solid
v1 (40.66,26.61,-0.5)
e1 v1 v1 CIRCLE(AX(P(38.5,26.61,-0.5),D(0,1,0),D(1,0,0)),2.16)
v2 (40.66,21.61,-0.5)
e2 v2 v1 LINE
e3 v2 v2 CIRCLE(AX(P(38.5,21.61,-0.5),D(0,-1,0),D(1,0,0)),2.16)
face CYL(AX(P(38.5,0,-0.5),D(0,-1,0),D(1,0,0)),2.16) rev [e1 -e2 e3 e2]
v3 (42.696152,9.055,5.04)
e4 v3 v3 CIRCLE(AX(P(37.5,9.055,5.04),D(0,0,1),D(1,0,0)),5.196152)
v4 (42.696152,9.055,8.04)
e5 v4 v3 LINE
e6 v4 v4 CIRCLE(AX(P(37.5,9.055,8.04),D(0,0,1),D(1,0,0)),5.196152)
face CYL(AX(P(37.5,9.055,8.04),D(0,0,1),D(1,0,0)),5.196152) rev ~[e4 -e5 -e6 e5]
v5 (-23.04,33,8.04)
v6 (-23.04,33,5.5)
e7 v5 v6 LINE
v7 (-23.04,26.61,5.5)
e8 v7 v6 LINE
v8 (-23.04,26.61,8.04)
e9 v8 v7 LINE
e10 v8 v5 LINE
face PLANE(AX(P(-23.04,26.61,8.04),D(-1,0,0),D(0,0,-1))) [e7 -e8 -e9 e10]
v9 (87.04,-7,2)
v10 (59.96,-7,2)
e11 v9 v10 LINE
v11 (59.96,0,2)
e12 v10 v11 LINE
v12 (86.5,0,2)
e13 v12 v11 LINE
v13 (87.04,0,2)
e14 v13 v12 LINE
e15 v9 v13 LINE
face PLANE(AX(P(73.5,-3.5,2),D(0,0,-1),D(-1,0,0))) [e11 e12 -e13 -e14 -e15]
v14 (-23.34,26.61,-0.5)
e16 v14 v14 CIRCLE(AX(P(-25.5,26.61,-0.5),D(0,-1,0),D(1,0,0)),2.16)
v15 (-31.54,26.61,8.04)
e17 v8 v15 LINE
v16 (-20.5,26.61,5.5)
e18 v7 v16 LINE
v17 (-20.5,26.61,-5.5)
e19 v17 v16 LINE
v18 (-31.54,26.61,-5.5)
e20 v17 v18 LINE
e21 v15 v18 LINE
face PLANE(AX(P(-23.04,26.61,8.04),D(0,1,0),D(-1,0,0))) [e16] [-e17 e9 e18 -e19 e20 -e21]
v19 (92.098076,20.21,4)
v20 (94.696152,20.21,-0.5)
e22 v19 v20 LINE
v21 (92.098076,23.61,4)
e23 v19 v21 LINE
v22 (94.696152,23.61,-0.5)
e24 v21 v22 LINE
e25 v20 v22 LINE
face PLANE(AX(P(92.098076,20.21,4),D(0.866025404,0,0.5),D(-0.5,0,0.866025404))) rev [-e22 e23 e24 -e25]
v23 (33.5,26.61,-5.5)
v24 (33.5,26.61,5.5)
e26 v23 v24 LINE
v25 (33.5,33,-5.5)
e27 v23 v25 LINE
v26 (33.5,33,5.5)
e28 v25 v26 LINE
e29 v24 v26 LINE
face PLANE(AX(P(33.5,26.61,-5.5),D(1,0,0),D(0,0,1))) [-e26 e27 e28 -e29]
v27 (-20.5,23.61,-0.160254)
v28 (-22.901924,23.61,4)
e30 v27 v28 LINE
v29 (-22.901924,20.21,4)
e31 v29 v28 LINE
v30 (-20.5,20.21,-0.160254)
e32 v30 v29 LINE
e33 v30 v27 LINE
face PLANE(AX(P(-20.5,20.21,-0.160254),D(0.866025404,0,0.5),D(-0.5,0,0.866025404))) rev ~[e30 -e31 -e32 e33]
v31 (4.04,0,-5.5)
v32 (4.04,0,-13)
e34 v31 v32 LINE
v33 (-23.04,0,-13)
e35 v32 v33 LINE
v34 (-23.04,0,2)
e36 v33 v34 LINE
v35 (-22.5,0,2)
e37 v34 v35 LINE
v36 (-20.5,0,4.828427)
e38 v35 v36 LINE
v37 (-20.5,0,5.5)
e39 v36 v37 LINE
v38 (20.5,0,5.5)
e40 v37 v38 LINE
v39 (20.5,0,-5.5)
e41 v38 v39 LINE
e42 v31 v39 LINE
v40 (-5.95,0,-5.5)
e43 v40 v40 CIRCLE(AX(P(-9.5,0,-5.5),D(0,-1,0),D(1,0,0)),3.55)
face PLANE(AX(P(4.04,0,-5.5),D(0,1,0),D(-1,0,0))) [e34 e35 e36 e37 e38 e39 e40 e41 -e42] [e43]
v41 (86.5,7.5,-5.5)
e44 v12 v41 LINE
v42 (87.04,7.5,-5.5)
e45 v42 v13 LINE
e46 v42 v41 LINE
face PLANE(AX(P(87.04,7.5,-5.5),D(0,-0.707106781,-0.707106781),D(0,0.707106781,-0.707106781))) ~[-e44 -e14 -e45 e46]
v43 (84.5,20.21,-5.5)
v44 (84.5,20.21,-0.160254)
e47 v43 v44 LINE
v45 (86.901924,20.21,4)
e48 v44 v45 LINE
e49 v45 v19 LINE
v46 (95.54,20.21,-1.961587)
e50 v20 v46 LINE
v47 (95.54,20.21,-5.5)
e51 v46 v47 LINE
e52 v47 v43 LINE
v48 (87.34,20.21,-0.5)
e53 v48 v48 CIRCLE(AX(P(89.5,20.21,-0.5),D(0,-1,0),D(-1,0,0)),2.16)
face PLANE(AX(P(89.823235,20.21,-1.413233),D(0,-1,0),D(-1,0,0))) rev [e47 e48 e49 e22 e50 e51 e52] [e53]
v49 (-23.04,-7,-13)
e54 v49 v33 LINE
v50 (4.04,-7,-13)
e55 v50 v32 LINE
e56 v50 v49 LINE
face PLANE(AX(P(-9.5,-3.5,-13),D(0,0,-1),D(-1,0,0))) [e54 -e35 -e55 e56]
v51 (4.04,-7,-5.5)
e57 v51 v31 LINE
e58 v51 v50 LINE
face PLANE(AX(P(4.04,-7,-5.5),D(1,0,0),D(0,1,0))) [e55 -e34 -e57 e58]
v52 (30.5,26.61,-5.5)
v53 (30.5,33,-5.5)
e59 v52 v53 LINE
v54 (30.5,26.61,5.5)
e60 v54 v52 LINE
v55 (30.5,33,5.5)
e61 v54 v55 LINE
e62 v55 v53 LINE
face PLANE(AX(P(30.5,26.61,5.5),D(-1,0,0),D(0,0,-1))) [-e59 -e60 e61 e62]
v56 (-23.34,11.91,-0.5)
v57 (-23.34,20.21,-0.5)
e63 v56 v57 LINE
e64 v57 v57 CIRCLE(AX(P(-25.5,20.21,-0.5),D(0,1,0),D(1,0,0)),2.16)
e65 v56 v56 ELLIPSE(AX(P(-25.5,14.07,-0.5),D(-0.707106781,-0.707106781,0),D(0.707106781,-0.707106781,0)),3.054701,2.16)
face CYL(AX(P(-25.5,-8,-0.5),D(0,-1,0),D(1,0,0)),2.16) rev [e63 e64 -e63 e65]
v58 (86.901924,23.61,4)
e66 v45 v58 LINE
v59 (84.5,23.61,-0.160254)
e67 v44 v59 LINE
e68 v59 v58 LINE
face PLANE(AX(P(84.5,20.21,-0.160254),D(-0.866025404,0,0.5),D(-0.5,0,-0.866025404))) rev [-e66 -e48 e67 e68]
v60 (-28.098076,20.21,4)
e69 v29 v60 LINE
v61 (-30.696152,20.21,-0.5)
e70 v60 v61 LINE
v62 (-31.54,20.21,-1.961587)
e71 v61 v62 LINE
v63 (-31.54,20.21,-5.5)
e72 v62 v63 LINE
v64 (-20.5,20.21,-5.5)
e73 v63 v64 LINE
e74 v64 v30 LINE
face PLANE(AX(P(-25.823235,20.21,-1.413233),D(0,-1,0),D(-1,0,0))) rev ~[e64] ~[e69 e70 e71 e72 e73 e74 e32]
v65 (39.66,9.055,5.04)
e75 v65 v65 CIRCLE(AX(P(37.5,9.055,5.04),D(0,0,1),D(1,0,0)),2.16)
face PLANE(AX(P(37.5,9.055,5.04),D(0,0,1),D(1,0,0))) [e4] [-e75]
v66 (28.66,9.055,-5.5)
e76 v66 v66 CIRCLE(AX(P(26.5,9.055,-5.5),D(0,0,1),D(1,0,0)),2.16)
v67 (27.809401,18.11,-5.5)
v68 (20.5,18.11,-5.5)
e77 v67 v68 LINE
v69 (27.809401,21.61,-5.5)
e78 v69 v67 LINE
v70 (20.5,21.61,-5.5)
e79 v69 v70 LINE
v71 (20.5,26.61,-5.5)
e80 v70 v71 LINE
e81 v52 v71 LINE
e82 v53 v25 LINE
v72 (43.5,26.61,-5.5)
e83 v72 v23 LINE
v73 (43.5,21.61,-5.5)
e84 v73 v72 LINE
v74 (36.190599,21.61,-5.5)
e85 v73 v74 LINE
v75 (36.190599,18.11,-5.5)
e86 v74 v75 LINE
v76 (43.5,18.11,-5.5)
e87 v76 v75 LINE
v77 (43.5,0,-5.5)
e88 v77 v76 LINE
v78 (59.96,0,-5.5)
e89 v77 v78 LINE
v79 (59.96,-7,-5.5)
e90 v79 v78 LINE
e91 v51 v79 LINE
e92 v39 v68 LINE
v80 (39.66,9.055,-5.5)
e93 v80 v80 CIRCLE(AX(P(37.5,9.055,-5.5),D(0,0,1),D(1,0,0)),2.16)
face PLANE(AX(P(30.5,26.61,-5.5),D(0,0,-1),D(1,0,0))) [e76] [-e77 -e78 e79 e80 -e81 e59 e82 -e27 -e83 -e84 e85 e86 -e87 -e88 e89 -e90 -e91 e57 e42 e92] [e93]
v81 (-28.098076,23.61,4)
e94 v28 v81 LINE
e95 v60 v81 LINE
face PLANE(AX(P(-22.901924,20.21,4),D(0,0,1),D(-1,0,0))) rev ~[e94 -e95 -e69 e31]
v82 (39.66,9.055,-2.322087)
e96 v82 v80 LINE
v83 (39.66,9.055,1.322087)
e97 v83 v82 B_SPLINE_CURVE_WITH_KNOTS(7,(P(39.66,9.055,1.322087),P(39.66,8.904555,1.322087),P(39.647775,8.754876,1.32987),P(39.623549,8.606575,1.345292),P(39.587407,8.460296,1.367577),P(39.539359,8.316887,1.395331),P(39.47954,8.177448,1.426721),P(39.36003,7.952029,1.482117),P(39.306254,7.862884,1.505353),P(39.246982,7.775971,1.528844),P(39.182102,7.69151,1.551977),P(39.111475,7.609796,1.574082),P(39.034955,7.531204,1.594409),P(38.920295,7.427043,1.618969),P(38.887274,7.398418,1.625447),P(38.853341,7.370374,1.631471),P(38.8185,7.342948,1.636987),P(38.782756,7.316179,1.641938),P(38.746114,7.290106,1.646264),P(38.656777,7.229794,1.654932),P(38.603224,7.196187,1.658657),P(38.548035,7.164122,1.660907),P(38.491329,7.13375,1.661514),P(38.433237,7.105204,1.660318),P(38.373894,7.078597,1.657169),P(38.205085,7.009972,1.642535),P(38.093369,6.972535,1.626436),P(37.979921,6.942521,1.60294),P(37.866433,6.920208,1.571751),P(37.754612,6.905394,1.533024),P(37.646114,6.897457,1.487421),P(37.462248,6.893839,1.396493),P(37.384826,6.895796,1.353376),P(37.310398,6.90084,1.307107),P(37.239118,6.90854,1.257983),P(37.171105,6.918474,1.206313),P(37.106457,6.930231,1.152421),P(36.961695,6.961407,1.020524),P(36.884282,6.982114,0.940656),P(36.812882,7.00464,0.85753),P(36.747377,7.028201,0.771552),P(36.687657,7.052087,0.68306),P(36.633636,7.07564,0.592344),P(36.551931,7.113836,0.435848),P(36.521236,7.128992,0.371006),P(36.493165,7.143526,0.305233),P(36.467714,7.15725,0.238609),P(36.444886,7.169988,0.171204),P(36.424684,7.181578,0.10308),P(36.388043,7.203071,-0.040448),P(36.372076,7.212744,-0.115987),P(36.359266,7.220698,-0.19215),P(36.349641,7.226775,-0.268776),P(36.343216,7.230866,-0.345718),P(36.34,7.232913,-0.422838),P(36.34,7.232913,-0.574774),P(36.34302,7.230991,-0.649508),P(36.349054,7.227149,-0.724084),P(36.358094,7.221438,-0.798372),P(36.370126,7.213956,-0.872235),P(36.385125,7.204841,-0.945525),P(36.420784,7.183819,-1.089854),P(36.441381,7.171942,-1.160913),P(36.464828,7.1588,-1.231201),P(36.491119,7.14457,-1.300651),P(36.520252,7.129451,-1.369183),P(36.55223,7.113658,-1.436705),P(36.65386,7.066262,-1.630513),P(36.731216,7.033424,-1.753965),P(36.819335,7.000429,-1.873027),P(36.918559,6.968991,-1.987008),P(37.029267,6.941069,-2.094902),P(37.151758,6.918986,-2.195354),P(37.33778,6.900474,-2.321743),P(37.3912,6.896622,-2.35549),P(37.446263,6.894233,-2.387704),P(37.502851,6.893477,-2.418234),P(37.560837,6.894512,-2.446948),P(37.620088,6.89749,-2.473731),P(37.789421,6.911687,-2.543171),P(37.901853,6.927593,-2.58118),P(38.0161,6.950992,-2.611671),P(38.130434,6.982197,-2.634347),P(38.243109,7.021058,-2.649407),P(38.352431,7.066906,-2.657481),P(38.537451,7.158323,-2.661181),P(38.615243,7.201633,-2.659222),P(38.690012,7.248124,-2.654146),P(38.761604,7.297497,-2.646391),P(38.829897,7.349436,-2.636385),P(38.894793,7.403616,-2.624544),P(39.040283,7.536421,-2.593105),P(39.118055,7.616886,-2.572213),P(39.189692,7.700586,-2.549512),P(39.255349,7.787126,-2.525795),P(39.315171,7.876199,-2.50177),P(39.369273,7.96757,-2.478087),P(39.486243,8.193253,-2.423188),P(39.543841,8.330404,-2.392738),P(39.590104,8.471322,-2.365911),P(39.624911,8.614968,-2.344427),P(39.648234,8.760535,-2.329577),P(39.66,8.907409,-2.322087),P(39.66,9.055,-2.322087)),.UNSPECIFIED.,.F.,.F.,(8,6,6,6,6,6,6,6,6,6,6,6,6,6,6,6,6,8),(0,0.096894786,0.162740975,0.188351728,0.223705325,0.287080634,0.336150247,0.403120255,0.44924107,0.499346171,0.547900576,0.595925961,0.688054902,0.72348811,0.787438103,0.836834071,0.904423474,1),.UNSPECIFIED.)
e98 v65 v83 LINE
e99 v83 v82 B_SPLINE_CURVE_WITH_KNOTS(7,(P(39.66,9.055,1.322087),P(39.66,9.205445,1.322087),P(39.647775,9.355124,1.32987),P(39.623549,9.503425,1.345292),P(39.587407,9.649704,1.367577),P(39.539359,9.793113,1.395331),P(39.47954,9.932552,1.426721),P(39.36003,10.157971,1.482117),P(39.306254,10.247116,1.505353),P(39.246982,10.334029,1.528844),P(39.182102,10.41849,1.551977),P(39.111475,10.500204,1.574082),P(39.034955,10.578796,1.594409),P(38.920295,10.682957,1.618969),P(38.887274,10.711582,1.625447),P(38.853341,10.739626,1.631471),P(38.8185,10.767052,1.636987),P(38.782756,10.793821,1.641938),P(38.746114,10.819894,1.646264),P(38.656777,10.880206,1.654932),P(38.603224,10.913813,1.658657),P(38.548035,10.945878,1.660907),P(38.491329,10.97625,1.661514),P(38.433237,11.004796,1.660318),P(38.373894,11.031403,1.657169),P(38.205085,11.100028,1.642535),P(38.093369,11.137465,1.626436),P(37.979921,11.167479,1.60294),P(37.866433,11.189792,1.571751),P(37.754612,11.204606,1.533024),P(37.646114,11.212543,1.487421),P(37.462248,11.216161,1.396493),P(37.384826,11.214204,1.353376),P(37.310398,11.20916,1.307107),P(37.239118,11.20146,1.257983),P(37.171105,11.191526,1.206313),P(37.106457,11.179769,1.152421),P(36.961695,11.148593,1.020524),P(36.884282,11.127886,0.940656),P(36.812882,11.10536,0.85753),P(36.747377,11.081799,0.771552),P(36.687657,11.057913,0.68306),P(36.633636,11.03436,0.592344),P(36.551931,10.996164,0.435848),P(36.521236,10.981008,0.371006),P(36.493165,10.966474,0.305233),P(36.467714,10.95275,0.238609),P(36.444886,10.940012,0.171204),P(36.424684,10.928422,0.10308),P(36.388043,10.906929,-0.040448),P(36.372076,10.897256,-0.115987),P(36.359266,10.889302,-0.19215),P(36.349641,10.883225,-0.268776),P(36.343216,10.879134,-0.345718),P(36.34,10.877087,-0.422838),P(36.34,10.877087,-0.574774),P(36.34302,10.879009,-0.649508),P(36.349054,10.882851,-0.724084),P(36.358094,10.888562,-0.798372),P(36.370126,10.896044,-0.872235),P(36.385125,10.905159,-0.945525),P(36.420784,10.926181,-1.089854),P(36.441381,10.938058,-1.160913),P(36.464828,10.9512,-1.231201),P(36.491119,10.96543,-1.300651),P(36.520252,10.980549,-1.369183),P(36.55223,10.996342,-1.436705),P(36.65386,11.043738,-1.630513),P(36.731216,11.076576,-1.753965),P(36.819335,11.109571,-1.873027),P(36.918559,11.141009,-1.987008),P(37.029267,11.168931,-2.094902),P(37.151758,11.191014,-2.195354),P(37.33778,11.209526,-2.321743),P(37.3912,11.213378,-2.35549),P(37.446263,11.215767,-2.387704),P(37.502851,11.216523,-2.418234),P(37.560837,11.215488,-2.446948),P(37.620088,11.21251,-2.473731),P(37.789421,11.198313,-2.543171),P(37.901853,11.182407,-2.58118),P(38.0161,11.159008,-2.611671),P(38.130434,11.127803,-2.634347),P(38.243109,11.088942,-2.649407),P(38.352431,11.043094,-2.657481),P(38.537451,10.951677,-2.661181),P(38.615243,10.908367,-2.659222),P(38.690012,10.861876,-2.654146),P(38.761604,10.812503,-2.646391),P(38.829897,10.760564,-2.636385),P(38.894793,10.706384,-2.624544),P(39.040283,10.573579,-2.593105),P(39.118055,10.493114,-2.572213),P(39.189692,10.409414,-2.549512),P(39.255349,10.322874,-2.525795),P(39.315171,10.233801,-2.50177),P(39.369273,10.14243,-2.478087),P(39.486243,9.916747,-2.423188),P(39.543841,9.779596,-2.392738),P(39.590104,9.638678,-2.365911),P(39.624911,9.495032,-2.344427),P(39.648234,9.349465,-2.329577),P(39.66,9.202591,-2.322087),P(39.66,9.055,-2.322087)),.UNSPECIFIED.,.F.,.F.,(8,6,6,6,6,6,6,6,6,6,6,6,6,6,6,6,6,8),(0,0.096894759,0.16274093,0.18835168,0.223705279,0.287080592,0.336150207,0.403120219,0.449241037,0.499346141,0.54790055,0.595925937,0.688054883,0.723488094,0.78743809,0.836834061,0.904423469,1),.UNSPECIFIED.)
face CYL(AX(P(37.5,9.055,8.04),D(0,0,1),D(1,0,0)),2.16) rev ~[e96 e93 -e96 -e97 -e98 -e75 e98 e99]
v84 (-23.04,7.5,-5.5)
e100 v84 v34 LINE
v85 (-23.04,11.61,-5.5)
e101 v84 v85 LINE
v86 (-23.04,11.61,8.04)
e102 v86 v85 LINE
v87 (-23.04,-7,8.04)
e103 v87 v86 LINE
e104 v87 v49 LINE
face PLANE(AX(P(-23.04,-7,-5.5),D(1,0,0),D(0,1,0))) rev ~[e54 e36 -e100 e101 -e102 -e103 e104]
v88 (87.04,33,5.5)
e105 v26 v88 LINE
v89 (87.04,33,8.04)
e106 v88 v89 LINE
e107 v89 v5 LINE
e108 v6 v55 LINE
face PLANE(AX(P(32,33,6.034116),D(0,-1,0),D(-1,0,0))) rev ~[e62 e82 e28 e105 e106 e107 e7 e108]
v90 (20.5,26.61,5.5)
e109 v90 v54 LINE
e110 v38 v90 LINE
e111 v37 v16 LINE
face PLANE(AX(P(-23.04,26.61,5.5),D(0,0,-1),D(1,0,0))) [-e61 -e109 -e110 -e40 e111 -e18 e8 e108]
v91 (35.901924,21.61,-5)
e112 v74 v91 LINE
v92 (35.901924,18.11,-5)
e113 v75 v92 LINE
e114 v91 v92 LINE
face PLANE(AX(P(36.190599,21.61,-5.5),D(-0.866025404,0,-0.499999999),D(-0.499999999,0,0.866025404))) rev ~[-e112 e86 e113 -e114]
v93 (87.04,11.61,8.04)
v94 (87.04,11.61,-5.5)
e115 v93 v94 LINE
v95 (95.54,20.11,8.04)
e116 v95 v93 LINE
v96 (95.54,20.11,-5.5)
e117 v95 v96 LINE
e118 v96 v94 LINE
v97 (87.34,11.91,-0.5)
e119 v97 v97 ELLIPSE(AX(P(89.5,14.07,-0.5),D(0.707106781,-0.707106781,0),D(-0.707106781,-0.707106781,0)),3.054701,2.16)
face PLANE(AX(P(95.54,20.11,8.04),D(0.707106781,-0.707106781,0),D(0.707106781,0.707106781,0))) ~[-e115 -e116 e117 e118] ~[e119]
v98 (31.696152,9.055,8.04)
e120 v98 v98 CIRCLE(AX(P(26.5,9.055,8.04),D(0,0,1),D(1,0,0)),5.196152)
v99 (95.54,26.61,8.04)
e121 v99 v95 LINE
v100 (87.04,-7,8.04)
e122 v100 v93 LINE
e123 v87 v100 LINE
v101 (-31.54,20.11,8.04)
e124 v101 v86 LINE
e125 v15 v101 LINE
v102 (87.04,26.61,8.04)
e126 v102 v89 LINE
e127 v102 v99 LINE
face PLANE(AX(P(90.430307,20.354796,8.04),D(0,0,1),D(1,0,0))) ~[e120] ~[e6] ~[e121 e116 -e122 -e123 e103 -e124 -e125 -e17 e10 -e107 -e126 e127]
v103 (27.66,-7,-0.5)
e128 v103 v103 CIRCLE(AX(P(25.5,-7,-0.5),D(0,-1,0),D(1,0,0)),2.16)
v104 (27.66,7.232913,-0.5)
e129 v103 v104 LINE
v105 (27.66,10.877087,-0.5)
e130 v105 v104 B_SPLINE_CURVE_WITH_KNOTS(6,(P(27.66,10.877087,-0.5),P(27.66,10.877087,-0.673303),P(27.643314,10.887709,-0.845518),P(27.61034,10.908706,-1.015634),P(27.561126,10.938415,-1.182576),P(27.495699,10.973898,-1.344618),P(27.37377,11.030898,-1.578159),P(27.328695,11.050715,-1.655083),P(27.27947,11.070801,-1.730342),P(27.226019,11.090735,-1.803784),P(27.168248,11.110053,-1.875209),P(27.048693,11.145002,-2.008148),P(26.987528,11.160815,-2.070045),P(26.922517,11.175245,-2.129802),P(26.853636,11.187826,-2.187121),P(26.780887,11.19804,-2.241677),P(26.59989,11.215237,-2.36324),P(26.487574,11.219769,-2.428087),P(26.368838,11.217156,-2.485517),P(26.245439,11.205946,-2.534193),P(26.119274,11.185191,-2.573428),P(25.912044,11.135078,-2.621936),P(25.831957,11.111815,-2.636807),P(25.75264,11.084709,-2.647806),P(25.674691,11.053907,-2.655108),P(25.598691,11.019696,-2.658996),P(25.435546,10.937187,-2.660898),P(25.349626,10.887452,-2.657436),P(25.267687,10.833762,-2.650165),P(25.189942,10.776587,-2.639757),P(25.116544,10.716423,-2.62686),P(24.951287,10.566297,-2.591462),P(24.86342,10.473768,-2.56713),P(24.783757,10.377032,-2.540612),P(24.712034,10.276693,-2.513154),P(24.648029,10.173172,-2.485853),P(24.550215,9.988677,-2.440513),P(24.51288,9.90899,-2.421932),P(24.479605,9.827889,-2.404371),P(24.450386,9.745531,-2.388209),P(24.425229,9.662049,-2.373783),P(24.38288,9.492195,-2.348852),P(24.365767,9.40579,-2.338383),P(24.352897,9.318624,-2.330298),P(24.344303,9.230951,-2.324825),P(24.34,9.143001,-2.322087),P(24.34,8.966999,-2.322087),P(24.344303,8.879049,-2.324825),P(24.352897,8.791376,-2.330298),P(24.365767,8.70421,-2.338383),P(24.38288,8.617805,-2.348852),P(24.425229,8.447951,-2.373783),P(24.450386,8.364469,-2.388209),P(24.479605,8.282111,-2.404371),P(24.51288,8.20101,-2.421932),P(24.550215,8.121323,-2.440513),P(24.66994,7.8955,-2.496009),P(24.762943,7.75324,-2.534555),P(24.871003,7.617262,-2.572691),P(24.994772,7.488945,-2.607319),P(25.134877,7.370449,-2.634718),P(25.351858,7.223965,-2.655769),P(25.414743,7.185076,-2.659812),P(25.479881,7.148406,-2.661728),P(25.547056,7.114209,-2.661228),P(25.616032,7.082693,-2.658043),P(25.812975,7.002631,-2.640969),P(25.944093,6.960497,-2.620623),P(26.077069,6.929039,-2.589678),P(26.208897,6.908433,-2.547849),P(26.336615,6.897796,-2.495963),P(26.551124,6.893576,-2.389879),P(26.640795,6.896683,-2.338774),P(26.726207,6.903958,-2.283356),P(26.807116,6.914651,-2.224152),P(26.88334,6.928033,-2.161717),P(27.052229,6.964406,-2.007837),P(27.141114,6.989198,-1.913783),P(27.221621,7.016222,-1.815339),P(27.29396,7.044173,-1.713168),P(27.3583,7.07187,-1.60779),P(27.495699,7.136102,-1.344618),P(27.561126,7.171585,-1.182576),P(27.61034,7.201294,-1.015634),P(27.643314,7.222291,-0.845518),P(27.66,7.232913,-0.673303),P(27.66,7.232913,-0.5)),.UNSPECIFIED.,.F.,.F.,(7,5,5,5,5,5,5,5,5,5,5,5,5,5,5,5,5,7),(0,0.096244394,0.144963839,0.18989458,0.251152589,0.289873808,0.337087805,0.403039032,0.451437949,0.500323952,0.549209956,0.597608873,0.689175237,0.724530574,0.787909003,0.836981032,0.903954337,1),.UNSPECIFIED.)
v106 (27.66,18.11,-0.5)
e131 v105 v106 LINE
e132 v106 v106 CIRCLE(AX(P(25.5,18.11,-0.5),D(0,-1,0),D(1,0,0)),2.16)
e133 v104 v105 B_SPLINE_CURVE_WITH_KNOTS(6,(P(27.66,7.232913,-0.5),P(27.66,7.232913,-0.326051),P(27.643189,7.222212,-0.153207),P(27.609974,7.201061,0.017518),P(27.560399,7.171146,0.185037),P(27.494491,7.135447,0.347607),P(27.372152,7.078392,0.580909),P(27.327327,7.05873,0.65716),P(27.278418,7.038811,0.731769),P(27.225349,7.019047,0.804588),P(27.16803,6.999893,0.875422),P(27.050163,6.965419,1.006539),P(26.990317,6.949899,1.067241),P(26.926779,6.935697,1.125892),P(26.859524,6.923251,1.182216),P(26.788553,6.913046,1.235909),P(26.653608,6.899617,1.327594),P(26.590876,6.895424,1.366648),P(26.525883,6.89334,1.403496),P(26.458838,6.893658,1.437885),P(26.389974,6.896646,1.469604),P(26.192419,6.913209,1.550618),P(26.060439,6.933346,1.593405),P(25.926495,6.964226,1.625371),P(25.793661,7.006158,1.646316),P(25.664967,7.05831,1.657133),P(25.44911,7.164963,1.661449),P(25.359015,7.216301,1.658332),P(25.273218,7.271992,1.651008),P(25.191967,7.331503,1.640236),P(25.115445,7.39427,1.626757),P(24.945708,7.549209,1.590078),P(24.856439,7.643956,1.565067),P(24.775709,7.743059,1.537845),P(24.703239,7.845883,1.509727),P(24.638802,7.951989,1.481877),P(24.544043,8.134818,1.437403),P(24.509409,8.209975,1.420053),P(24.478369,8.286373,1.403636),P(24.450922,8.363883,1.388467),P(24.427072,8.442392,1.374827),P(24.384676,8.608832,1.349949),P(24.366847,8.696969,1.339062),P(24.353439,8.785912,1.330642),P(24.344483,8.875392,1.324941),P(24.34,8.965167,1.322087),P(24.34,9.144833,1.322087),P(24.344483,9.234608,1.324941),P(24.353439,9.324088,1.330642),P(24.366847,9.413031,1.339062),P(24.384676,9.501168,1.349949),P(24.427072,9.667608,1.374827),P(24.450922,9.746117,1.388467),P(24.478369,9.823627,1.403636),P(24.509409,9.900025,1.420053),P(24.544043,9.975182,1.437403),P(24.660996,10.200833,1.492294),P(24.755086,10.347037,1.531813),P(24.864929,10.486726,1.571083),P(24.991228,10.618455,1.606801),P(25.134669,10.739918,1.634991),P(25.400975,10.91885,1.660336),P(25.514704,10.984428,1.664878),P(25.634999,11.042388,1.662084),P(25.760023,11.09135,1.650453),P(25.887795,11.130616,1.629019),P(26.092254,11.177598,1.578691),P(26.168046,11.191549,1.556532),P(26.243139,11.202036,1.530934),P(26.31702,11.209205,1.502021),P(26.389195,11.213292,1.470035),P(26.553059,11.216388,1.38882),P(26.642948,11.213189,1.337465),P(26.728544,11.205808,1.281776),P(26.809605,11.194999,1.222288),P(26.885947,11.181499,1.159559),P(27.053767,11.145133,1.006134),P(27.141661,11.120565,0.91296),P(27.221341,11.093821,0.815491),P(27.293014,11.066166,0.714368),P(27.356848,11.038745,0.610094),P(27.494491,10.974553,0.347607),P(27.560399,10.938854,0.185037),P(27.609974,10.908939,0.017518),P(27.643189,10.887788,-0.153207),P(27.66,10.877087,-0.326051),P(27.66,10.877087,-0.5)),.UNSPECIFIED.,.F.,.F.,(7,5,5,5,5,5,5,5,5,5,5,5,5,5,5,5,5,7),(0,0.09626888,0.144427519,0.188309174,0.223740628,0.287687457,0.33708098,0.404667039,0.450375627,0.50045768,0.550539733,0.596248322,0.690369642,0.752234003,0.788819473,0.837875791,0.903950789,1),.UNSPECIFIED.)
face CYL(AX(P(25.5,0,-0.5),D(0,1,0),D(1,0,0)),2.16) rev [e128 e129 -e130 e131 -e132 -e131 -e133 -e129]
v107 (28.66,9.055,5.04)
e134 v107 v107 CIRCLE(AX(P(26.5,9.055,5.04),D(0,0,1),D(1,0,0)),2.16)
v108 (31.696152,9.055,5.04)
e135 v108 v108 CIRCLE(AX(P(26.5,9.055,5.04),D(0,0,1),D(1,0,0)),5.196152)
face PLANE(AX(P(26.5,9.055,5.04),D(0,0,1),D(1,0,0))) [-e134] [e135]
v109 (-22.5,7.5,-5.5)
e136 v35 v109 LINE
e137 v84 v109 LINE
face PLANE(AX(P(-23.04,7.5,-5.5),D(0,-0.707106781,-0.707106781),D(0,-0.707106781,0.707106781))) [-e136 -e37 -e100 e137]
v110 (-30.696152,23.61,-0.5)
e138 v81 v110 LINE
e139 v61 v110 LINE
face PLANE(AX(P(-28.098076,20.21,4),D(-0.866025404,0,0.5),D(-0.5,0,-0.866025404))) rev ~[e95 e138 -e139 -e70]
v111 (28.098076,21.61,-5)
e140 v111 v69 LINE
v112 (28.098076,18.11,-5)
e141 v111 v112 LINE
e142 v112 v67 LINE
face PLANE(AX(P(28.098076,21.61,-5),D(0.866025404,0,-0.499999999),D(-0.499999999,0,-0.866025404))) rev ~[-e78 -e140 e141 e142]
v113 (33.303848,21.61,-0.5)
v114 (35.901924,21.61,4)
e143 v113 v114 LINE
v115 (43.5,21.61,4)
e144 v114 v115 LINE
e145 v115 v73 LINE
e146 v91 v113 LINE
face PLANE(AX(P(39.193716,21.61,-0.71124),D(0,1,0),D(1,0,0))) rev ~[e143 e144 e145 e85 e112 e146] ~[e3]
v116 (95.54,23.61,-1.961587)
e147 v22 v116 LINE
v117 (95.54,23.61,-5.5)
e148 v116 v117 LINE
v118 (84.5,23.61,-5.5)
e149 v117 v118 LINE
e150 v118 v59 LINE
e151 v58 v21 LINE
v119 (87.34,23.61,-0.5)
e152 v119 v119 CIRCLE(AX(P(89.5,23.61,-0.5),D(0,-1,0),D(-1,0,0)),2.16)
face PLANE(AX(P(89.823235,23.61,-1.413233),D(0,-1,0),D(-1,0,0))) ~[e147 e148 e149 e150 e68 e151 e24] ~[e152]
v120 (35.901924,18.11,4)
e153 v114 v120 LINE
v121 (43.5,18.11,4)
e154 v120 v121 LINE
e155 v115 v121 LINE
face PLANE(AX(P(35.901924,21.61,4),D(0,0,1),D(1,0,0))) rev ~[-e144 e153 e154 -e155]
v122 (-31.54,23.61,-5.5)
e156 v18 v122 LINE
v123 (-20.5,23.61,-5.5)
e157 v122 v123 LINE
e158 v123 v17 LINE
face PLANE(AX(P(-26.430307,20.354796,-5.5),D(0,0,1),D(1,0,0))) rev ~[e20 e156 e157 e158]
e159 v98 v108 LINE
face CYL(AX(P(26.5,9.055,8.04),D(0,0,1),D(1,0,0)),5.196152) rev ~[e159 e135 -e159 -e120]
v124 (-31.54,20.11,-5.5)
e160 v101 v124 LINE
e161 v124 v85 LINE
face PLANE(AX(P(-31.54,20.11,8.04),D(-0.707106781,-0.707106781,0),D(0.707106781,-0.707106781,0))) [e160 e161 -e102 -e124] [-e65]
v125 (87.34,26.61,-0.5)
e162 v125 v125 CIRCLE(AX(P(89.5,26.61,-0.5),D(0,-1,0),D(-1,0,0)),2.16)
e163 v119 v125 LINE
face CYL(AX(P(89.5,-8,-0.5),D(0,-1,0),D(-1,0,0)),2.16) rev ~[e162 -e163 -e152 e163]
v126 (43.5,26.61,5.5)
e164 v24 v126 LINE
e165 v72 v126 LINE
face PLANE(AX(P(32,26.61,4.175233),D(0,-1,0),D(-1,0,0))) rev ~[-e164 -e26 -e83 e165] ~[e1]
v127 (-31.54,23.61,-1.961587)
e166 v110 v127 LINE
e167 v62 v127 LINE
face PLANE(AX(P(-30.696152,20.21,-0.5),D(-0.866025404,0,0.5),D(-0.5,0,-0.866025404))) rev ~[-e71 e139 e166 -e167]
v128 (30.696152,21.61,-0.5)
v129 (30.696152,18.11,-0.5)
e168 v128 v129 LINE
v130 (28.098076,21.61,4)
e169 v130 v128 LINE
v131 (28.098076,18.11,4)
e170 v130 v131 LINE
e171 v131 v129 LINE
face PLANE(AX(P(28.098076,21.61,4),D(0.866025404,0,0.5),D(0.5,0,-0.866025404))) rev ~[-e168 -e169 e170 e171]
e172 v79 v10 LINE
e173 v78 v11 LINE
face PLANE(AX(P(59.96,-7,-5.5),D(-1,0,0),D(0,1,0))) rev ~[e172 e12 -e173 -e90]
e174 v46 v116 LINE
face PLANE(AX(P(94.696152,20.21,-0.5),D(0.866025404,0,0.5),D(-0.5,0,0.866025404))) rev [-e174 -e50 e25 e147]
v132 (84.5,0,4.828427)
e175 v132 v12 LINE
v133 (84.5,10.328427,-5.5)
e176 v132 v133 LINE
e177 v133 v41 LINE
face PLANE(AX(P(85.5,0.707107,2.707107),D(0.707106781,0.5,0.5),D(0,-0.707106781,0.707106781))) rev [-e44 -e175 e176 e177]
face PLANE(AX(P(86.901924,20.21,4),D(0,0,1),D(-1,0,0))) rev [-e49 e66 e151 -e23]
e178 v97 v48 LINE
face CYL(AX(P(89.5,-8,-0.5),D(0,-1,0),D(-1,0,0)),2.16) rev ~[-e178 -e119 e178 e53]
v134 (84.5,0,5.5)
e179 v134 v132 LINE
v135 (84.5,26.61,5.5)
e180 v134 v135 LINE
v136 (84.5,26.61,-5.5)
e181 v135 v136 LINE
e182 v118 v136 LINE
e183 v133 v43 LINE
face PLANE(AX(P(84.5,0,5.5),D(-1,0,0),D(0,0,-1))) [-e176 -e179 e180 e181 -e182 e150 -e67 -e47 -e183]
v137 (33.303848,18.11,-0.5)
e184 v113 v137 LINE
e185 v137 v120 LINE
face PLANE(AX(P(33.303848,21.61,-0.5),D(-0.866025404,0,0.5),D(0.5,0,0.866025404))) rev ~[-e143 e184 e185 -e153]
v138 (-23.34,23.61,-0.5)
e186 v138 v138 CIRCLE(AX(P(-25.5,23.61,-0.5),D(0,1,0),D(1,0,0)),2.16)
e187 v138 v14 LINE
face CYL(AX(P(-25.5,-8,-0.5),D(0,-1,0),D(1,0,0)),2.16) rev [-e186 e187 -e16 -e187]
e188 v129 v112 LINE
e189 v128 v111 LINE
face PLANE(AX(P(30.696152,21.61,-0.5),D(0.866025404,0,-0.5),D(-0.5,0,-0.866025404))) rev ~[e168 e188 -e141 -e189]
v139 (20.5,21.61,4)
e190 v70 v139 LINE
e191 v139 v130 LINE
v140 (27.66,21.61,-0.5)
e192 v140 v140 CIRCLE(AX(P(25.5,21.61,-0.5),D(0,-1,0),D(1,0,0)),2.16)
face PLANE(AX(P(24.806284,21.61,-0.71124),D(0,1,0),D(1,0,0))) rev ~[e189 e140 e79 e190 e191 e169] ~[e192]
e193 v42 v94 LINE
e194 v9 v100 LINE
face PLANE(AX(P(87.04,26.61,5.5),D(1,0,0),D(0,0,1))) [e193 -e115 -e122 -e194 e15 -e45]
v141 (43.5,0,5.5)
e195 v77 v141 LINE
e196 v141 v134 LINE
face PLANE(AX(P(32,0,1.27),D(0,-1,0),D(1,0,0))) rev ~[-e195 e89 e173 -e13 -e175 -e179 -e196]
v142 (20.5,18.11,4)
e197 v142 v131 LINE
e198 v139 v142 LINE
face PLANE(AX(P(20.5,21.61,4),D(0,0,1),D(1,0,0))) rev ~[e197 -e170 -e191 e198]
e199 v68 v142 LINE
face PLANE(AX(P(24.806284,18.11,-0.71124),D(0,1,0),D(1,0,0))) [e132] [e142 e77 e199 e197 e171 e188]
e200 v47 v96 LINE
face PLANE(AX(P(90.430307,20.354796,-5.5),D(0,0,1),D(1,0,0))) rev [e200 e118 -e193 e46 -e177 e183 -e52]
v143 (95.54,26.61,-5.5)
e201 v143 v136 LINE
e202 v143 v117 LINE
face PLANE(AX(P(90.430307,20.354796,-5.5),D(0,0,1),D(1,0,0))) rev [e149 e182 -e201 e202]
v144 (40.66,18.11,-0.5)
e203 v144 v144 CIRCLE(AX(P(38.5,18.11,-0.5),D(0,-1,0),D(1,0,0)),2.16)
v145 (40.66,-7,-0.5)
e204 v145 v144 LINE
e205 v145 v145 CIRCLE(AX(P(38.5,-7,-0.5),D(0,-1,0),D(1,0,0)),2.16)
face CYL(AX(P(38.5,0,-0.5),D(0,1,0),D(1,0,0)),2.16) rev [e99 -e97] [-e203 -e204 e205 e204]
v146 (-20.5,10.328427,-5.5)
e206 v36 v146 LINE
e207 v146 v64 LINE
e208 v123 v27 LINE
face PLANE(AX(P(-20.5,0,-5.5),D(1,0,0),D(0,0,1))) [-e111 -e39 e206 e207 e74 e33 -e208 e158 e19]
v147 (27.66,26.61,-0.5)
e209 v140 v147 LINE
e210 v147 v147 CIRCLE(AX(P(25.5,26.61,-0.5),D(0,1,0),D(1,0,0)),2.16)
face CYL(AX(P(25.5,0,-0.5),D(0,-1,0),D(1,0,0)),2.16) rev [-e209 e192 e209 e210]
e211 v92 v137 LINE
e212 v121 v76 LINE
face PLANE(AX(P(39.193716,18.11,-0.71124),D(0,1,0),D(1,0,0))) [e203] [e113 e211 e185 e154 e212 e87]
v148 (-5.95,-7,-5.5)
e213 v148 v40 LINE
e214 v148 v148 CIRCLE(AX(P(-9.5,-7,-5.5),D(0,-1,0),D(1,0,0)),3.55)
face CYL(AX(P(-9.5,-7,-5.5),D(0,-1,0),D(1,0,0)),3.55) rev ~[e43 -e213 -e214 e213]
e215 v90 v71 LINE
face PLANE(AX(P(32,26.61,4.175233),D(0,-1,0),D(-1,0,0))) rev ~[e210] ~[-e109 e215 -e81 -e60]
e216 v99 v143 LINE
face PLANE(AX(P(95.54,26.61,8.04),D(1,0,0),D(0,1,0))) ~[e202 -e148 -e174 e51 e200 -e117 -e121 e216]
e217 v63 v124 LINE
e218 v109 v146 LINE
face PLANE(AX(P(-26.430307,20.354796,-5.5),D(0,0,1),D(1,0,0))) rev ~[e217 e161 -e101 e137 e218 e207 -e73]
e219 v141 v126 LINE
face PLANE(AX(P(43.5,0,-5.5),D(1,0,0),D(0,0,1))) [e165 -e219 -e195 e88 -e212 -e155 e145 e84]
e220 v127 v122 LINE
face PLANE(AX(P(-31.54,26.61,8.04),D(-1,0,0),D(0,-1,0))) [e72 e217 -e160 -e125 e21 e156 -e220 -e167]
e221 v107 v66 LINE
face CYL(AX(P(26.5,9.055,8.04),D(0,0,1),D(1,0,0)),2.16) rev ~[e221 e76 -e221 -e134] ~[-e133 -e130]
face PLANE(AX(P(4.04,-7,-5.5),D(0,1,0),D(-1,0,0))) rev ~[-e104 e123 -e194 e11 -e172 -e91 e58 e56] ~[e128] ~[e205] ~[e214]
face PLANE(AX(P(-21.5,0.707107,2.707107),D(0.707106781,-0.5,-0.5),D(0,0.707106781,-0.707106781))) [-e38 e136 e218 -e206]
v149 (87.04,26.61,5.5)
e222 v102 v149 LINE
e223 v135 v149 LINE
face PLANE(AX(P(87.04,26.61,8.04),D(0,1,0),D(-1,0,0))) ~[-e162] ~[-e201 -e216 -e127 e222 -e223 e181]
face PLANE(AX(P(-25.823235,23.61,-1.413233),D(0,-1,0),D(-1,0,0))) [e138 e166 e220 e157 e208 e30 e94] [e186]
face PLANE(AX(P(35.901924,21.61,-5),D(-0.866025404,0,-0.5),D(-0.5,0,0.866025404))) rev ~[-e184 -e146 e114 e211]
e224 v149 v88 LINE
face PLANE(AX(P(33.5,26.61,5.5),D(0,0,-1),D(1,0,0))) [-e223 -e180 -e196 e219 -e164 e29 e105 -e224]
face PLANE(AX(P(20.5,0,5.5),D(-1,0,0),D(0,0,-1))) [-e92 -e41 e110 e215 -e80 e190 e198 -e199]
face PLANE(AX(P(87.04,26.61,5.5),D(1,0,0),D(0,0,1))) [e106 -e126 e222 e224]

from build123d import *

# Parameters (mm, degrees)
SKETCH1_R               = 2.16
BOSS_EXTRUDE1_DEPTH     = 26.61
CUT_EXTRUDE1_DEPTH      = 3.5
CUT_EXTRUDE2_DEPTH      = 4
SKETCH5_W               = 110.08
SKETCH5_H               = 13.54
SKETCH5_R               = 2.16
BOSS_EXTRUDE2_DEPTH     = 7
BOSS_EXTRUDE3_DEPTH     = 6.39
BOSS_EXTRUDE4_DEPTH     = 13.54
CUT_EXTRUDE3_START      = -1.4
SKETCH8_R               = 2.16
CUT_EXTRUDE3_DEPTH      = 3.4
CUT_EXTRUDE4_START      = -29.61
SKETCH8_2_R             = 2.16
CUT_EXTRUDE4_DEPTH      = 42
CHAMFER2_SIZE           = 2
SKETCH10_R              = 2.16
CUT_EXTRUDE5_DEPTH      = 1
CUT_EXTRUDE5_DEPTH_BACK = 14.54
SKETCH10_3_R            = 5.196152423
CUT_EXTRUDE6_DEPTH      = 3
SKETCH11_W              = 27.08
SKETCH11_H              = 7
CUT_EXTRUDE7_DEPTH      = 7.5
SKETCH11_3_W            = 27.08
SKETCH11_3_H            = 7
BOSS_EXTRUDE5_DEPTH     = 7.5
SKETCH12_R              = 3.55
CUT_EXTRUDE8_DEPTH      = 7.5


with BuildPart() as part:
    # Sketch1 → Boss-Extrude1 (new body)
    with BuildSketch(Plane(origin=(0, 0, 0), x_dir=(1, 0, 0), z_dir=(0, 1, 0))):
        Polygon((-23.04, -8.04), (-23.04, 5.5), (-20.5, 5.5), (-20.5, -5.5), (20.5, -5.5), (20.5, 5.5), (23.04, 5.5), (40.96, 5.5), (43.5, 5.5), (43.5, -5.5), (84.5, -5.5), (84.5, 5.5), (87.04, 5.5), (87.04, -8.04), (40.96, -8.04), (23.04, -8.04), align=None)
        with Locations((25.5, 0.5)):
            Circle(SKETCH1_R, mode=Mode.SUBTRACT)
        with Locations((38.5, 0.5)):
            Circle(SKETCH1_R, mode=Mode.SUBTRACT)
    extrude(amount=BOSS_EXTRUDE1_DEPTH)

    # Sketch3 → Cut-Extrude1 (cut)
    with BuildSketch(Plane(origin=(0, 21.61, 0), x_dir=(1, 0, 0), z_dir=(0, 1, 0))):
        Polygon((28.098076211, -4), (30.696152423, 0.5), (28.098076211, 5), (27.809401077, 5.5), (20.5, 5.5), (20.5, -4), (22.901923789, -4), align=None)
        Polygon((35.901923789, 5), (33.303847577, 0.5), (35.901923789, -4), (41.098076211, -4), (43.5, -4), (43.5, 5.5), (36.190598923, 5.5), align=None)
    extrude(amount=-CUT_EXTRUDE1_DEPTH, mode=Mode.SUBTRACT)

    # Sketch4 → Cut-Extrude2 (cut)
    with BuildSketch(Plane.ZY.offset(23.04)):
        Polygon((-5.5, 7.5), (2, 0), (-5.5, 0), align=None)
    cut_extrude2 = extrude(amount=-CUT_EXTRUDE2_DEPTH, mode=Mode.SUBTRACT)

    # Mirror1: Cut-Extrude2 across plane
    add(cut_extrude2.mirror(Plane(origin=(32, 0, 0), x_dir=(0, 0, 1), z_dir=(1, 0, 0))), mode=Mode.SUBTRACT)

    # Sketch5 → Boss-Extrude2 (add)
    with BuildSketch(Plane.XZ):
        with Locations((32, 1.27)):
            Rectangle(SKETCH5_W, SKETCH5_H)
        with Locations((38.5, -0.5)):
            Circle(SKETCH5_R, mode=Mode.SUBTRACT)
        with Locations((25.5, -0.5)):
            Circle(SKETCH5_R, mode=Mode.SUBTRACT)
    extrude(amount=BOSS_EXTRUDE2_DEPTH)

    # Sketch6 → Boss-Extrude3 (add)
    with BuildSketch(Plane(origin=(0, 26.61, 0), x_dir=(1, 0, 0), z_dir=(0, 1, 0))):
        Polygon((-23.04, -5.5), (30.5, -5.5), (30.5, 5.5), (33.5, 5.5), (33.5, -5.5), (87.04, -5.5), (87.04, -8.04), (-23.04, -8.04), align=None)
    extrude(amount=BOSS_EXTRUDE3_DEPTH)

    # Sketch7 → Boss-Extrude4 (add)
    with BuildSketch(Plane.XY.offset(8.04)):
        Polygon((-23.04, 26.61), (-31.54, 26.61), (-31.54, 20.11), (-23.04, 11.61), align=None)
    boss_extrude4 = extrude(amount=-BOSS_EXTRUDE4_DEPTH)

    # Sketch8 → Cut-Extrude3 (cut)
    with BuildSketch(Plane(origin=(0, 21.61, 0), x_dir=(1, 0, 0), z_dir=(0, 1, 0)).offset(CUT_EXTRUDE3_START)):
        Polygon((-30.696152423, 0.5), (-31.54, 1.961586878), (-31.54, 5.5), (-20.5, 5.5), (-20.5, 0.160254038), (-22.901923789, -4), (-28.098076211, -4), align=None)
        with Locations((-25.5, 0.5)):
            Circle(SKETCH8_R, mode=Mode.SUBTRACT)
    cut_extrude3 = extrude(amount=CUT_EXTRUDE3_DEPTH, mode=Mode.SUBTRACT)

    # Sketch8<2> → Cut-Extrude4 (cut)
    with BuildSketch(Plane(origin=(0, 21.61, 0), x_dir=(1, 0, 0), z_dir=(0, 1, 0)).offset(CUT_EXTRUDE4_START)):
        with Locations((-25.5, 0.5)):
            Circle(SKETCH8_2_R)
    cut_extrude4 = extrude(amount=CUT_EXTRUDE4_DEPTH, mode=Mode.SUBTRACT)

    # Mirror2: Boss-Extrude4, Cut-Extrude3, Cut-Extrude4 across plane
    add(boss_extrude4.mirror(Plane(origin=(32, 0, 0), x_dir=(0, 0, 1), z_dir=(1, 0, 0))))
    add(cut_extrude3.mirror(Plane(origin=(32, 0, 0), x_dir=(0, 0, 1), z_dir=(1, 0, 0))), mode=Mode.SUBTRACT)
    add(cut_extrude4.mirror(Plane(origin=(32, 0, 0), x_dir=(0, 0, 1), z_dir=(1, 0, 0))), mode=Mode.SUBTRACT)

    # Chamfer2
    chamfer2_edges = [part.edges().sort_by_distance(p)[0] for p in [
        (84.5, 3.75, -1.75),
        (-20.5, 3.75, -1.75),
    ]]
    chamfer(chamfer2_edges, length=CHAMFER2_SIZE)

    # Sketch10 → Cut-Extrude5 (cut, two sides)
    with BuildSketch(Plane.XY.offset(8.04)) as cut_extrude5_sk:
        with Locations((26.5, 9.055)):
            Circle(SKETCH10_R)
        with Locations((37.5, 9.055)):
            Circle(SKETCH10_R)
    extrude(amount=CUT_EXTRUDE5_DEPTH, mode=Mode.SUBTRACT)
    extrude(cut_extrude5_sk.sketch, amount=-CUT_EXTRUDE5_DEPTH_BACK, mode=Mode.SUBTRACT)

    # Sketch10<3> → Cut-Extrude6 (cut)
    with BuildSketch(Plane.XY.offset(8.04)):
        with Locations((26.5, 9.055)):
            Circle(SKETCH10_3_R)
        with Locations((37.5, 9.055)):
            Circle(SKETCH10_3_R)
    extrude(amount=-CUT_EXTRUDE6_DEPTH, mode=Mode.SUBTRACT)

    # Sketch11 → Cut-Extrude7 (cut)
    with BuildSketch(Plane(origin=(0, 0, -5.5), x_dir=(-1, 0, 0), z_dir=(0, 0, -1))):
        with Locations((-73.5, -3.5)):
            Rectangle(SKETCH11_W, SKETCH11_H)
    extrude(amount=-CUT_EXTRUDE7_DEPTH, mode=Mode.SUBTRACT)

    # Sketch11<3> → Boss-Extrude5 (add)
    with BuildSketch(Plane(origin=(0, 0, -5.5), x_dir=(-1, 0, 0), z_dir=(0, 0, -1))):
        with Locations((9.5, -3.5)):
            Rectangle(SKETCH11_3_W, SKETCH11_3_H)
    extrude(amount=BOSS_EXTRUDE5_DEPTH)

    # Sketch12 → Cut-Extrude8 (cut)
    with BuildSketch(Plane.XZ.offset(7)):
        with Locations((-9.5, -5.5)):
            Circle(SKETCH12_R)
    extrude(amount=-CUT_EXTRUDE8_DEPTH, mode=Mode.SUBTRACT)


solid = part.part
